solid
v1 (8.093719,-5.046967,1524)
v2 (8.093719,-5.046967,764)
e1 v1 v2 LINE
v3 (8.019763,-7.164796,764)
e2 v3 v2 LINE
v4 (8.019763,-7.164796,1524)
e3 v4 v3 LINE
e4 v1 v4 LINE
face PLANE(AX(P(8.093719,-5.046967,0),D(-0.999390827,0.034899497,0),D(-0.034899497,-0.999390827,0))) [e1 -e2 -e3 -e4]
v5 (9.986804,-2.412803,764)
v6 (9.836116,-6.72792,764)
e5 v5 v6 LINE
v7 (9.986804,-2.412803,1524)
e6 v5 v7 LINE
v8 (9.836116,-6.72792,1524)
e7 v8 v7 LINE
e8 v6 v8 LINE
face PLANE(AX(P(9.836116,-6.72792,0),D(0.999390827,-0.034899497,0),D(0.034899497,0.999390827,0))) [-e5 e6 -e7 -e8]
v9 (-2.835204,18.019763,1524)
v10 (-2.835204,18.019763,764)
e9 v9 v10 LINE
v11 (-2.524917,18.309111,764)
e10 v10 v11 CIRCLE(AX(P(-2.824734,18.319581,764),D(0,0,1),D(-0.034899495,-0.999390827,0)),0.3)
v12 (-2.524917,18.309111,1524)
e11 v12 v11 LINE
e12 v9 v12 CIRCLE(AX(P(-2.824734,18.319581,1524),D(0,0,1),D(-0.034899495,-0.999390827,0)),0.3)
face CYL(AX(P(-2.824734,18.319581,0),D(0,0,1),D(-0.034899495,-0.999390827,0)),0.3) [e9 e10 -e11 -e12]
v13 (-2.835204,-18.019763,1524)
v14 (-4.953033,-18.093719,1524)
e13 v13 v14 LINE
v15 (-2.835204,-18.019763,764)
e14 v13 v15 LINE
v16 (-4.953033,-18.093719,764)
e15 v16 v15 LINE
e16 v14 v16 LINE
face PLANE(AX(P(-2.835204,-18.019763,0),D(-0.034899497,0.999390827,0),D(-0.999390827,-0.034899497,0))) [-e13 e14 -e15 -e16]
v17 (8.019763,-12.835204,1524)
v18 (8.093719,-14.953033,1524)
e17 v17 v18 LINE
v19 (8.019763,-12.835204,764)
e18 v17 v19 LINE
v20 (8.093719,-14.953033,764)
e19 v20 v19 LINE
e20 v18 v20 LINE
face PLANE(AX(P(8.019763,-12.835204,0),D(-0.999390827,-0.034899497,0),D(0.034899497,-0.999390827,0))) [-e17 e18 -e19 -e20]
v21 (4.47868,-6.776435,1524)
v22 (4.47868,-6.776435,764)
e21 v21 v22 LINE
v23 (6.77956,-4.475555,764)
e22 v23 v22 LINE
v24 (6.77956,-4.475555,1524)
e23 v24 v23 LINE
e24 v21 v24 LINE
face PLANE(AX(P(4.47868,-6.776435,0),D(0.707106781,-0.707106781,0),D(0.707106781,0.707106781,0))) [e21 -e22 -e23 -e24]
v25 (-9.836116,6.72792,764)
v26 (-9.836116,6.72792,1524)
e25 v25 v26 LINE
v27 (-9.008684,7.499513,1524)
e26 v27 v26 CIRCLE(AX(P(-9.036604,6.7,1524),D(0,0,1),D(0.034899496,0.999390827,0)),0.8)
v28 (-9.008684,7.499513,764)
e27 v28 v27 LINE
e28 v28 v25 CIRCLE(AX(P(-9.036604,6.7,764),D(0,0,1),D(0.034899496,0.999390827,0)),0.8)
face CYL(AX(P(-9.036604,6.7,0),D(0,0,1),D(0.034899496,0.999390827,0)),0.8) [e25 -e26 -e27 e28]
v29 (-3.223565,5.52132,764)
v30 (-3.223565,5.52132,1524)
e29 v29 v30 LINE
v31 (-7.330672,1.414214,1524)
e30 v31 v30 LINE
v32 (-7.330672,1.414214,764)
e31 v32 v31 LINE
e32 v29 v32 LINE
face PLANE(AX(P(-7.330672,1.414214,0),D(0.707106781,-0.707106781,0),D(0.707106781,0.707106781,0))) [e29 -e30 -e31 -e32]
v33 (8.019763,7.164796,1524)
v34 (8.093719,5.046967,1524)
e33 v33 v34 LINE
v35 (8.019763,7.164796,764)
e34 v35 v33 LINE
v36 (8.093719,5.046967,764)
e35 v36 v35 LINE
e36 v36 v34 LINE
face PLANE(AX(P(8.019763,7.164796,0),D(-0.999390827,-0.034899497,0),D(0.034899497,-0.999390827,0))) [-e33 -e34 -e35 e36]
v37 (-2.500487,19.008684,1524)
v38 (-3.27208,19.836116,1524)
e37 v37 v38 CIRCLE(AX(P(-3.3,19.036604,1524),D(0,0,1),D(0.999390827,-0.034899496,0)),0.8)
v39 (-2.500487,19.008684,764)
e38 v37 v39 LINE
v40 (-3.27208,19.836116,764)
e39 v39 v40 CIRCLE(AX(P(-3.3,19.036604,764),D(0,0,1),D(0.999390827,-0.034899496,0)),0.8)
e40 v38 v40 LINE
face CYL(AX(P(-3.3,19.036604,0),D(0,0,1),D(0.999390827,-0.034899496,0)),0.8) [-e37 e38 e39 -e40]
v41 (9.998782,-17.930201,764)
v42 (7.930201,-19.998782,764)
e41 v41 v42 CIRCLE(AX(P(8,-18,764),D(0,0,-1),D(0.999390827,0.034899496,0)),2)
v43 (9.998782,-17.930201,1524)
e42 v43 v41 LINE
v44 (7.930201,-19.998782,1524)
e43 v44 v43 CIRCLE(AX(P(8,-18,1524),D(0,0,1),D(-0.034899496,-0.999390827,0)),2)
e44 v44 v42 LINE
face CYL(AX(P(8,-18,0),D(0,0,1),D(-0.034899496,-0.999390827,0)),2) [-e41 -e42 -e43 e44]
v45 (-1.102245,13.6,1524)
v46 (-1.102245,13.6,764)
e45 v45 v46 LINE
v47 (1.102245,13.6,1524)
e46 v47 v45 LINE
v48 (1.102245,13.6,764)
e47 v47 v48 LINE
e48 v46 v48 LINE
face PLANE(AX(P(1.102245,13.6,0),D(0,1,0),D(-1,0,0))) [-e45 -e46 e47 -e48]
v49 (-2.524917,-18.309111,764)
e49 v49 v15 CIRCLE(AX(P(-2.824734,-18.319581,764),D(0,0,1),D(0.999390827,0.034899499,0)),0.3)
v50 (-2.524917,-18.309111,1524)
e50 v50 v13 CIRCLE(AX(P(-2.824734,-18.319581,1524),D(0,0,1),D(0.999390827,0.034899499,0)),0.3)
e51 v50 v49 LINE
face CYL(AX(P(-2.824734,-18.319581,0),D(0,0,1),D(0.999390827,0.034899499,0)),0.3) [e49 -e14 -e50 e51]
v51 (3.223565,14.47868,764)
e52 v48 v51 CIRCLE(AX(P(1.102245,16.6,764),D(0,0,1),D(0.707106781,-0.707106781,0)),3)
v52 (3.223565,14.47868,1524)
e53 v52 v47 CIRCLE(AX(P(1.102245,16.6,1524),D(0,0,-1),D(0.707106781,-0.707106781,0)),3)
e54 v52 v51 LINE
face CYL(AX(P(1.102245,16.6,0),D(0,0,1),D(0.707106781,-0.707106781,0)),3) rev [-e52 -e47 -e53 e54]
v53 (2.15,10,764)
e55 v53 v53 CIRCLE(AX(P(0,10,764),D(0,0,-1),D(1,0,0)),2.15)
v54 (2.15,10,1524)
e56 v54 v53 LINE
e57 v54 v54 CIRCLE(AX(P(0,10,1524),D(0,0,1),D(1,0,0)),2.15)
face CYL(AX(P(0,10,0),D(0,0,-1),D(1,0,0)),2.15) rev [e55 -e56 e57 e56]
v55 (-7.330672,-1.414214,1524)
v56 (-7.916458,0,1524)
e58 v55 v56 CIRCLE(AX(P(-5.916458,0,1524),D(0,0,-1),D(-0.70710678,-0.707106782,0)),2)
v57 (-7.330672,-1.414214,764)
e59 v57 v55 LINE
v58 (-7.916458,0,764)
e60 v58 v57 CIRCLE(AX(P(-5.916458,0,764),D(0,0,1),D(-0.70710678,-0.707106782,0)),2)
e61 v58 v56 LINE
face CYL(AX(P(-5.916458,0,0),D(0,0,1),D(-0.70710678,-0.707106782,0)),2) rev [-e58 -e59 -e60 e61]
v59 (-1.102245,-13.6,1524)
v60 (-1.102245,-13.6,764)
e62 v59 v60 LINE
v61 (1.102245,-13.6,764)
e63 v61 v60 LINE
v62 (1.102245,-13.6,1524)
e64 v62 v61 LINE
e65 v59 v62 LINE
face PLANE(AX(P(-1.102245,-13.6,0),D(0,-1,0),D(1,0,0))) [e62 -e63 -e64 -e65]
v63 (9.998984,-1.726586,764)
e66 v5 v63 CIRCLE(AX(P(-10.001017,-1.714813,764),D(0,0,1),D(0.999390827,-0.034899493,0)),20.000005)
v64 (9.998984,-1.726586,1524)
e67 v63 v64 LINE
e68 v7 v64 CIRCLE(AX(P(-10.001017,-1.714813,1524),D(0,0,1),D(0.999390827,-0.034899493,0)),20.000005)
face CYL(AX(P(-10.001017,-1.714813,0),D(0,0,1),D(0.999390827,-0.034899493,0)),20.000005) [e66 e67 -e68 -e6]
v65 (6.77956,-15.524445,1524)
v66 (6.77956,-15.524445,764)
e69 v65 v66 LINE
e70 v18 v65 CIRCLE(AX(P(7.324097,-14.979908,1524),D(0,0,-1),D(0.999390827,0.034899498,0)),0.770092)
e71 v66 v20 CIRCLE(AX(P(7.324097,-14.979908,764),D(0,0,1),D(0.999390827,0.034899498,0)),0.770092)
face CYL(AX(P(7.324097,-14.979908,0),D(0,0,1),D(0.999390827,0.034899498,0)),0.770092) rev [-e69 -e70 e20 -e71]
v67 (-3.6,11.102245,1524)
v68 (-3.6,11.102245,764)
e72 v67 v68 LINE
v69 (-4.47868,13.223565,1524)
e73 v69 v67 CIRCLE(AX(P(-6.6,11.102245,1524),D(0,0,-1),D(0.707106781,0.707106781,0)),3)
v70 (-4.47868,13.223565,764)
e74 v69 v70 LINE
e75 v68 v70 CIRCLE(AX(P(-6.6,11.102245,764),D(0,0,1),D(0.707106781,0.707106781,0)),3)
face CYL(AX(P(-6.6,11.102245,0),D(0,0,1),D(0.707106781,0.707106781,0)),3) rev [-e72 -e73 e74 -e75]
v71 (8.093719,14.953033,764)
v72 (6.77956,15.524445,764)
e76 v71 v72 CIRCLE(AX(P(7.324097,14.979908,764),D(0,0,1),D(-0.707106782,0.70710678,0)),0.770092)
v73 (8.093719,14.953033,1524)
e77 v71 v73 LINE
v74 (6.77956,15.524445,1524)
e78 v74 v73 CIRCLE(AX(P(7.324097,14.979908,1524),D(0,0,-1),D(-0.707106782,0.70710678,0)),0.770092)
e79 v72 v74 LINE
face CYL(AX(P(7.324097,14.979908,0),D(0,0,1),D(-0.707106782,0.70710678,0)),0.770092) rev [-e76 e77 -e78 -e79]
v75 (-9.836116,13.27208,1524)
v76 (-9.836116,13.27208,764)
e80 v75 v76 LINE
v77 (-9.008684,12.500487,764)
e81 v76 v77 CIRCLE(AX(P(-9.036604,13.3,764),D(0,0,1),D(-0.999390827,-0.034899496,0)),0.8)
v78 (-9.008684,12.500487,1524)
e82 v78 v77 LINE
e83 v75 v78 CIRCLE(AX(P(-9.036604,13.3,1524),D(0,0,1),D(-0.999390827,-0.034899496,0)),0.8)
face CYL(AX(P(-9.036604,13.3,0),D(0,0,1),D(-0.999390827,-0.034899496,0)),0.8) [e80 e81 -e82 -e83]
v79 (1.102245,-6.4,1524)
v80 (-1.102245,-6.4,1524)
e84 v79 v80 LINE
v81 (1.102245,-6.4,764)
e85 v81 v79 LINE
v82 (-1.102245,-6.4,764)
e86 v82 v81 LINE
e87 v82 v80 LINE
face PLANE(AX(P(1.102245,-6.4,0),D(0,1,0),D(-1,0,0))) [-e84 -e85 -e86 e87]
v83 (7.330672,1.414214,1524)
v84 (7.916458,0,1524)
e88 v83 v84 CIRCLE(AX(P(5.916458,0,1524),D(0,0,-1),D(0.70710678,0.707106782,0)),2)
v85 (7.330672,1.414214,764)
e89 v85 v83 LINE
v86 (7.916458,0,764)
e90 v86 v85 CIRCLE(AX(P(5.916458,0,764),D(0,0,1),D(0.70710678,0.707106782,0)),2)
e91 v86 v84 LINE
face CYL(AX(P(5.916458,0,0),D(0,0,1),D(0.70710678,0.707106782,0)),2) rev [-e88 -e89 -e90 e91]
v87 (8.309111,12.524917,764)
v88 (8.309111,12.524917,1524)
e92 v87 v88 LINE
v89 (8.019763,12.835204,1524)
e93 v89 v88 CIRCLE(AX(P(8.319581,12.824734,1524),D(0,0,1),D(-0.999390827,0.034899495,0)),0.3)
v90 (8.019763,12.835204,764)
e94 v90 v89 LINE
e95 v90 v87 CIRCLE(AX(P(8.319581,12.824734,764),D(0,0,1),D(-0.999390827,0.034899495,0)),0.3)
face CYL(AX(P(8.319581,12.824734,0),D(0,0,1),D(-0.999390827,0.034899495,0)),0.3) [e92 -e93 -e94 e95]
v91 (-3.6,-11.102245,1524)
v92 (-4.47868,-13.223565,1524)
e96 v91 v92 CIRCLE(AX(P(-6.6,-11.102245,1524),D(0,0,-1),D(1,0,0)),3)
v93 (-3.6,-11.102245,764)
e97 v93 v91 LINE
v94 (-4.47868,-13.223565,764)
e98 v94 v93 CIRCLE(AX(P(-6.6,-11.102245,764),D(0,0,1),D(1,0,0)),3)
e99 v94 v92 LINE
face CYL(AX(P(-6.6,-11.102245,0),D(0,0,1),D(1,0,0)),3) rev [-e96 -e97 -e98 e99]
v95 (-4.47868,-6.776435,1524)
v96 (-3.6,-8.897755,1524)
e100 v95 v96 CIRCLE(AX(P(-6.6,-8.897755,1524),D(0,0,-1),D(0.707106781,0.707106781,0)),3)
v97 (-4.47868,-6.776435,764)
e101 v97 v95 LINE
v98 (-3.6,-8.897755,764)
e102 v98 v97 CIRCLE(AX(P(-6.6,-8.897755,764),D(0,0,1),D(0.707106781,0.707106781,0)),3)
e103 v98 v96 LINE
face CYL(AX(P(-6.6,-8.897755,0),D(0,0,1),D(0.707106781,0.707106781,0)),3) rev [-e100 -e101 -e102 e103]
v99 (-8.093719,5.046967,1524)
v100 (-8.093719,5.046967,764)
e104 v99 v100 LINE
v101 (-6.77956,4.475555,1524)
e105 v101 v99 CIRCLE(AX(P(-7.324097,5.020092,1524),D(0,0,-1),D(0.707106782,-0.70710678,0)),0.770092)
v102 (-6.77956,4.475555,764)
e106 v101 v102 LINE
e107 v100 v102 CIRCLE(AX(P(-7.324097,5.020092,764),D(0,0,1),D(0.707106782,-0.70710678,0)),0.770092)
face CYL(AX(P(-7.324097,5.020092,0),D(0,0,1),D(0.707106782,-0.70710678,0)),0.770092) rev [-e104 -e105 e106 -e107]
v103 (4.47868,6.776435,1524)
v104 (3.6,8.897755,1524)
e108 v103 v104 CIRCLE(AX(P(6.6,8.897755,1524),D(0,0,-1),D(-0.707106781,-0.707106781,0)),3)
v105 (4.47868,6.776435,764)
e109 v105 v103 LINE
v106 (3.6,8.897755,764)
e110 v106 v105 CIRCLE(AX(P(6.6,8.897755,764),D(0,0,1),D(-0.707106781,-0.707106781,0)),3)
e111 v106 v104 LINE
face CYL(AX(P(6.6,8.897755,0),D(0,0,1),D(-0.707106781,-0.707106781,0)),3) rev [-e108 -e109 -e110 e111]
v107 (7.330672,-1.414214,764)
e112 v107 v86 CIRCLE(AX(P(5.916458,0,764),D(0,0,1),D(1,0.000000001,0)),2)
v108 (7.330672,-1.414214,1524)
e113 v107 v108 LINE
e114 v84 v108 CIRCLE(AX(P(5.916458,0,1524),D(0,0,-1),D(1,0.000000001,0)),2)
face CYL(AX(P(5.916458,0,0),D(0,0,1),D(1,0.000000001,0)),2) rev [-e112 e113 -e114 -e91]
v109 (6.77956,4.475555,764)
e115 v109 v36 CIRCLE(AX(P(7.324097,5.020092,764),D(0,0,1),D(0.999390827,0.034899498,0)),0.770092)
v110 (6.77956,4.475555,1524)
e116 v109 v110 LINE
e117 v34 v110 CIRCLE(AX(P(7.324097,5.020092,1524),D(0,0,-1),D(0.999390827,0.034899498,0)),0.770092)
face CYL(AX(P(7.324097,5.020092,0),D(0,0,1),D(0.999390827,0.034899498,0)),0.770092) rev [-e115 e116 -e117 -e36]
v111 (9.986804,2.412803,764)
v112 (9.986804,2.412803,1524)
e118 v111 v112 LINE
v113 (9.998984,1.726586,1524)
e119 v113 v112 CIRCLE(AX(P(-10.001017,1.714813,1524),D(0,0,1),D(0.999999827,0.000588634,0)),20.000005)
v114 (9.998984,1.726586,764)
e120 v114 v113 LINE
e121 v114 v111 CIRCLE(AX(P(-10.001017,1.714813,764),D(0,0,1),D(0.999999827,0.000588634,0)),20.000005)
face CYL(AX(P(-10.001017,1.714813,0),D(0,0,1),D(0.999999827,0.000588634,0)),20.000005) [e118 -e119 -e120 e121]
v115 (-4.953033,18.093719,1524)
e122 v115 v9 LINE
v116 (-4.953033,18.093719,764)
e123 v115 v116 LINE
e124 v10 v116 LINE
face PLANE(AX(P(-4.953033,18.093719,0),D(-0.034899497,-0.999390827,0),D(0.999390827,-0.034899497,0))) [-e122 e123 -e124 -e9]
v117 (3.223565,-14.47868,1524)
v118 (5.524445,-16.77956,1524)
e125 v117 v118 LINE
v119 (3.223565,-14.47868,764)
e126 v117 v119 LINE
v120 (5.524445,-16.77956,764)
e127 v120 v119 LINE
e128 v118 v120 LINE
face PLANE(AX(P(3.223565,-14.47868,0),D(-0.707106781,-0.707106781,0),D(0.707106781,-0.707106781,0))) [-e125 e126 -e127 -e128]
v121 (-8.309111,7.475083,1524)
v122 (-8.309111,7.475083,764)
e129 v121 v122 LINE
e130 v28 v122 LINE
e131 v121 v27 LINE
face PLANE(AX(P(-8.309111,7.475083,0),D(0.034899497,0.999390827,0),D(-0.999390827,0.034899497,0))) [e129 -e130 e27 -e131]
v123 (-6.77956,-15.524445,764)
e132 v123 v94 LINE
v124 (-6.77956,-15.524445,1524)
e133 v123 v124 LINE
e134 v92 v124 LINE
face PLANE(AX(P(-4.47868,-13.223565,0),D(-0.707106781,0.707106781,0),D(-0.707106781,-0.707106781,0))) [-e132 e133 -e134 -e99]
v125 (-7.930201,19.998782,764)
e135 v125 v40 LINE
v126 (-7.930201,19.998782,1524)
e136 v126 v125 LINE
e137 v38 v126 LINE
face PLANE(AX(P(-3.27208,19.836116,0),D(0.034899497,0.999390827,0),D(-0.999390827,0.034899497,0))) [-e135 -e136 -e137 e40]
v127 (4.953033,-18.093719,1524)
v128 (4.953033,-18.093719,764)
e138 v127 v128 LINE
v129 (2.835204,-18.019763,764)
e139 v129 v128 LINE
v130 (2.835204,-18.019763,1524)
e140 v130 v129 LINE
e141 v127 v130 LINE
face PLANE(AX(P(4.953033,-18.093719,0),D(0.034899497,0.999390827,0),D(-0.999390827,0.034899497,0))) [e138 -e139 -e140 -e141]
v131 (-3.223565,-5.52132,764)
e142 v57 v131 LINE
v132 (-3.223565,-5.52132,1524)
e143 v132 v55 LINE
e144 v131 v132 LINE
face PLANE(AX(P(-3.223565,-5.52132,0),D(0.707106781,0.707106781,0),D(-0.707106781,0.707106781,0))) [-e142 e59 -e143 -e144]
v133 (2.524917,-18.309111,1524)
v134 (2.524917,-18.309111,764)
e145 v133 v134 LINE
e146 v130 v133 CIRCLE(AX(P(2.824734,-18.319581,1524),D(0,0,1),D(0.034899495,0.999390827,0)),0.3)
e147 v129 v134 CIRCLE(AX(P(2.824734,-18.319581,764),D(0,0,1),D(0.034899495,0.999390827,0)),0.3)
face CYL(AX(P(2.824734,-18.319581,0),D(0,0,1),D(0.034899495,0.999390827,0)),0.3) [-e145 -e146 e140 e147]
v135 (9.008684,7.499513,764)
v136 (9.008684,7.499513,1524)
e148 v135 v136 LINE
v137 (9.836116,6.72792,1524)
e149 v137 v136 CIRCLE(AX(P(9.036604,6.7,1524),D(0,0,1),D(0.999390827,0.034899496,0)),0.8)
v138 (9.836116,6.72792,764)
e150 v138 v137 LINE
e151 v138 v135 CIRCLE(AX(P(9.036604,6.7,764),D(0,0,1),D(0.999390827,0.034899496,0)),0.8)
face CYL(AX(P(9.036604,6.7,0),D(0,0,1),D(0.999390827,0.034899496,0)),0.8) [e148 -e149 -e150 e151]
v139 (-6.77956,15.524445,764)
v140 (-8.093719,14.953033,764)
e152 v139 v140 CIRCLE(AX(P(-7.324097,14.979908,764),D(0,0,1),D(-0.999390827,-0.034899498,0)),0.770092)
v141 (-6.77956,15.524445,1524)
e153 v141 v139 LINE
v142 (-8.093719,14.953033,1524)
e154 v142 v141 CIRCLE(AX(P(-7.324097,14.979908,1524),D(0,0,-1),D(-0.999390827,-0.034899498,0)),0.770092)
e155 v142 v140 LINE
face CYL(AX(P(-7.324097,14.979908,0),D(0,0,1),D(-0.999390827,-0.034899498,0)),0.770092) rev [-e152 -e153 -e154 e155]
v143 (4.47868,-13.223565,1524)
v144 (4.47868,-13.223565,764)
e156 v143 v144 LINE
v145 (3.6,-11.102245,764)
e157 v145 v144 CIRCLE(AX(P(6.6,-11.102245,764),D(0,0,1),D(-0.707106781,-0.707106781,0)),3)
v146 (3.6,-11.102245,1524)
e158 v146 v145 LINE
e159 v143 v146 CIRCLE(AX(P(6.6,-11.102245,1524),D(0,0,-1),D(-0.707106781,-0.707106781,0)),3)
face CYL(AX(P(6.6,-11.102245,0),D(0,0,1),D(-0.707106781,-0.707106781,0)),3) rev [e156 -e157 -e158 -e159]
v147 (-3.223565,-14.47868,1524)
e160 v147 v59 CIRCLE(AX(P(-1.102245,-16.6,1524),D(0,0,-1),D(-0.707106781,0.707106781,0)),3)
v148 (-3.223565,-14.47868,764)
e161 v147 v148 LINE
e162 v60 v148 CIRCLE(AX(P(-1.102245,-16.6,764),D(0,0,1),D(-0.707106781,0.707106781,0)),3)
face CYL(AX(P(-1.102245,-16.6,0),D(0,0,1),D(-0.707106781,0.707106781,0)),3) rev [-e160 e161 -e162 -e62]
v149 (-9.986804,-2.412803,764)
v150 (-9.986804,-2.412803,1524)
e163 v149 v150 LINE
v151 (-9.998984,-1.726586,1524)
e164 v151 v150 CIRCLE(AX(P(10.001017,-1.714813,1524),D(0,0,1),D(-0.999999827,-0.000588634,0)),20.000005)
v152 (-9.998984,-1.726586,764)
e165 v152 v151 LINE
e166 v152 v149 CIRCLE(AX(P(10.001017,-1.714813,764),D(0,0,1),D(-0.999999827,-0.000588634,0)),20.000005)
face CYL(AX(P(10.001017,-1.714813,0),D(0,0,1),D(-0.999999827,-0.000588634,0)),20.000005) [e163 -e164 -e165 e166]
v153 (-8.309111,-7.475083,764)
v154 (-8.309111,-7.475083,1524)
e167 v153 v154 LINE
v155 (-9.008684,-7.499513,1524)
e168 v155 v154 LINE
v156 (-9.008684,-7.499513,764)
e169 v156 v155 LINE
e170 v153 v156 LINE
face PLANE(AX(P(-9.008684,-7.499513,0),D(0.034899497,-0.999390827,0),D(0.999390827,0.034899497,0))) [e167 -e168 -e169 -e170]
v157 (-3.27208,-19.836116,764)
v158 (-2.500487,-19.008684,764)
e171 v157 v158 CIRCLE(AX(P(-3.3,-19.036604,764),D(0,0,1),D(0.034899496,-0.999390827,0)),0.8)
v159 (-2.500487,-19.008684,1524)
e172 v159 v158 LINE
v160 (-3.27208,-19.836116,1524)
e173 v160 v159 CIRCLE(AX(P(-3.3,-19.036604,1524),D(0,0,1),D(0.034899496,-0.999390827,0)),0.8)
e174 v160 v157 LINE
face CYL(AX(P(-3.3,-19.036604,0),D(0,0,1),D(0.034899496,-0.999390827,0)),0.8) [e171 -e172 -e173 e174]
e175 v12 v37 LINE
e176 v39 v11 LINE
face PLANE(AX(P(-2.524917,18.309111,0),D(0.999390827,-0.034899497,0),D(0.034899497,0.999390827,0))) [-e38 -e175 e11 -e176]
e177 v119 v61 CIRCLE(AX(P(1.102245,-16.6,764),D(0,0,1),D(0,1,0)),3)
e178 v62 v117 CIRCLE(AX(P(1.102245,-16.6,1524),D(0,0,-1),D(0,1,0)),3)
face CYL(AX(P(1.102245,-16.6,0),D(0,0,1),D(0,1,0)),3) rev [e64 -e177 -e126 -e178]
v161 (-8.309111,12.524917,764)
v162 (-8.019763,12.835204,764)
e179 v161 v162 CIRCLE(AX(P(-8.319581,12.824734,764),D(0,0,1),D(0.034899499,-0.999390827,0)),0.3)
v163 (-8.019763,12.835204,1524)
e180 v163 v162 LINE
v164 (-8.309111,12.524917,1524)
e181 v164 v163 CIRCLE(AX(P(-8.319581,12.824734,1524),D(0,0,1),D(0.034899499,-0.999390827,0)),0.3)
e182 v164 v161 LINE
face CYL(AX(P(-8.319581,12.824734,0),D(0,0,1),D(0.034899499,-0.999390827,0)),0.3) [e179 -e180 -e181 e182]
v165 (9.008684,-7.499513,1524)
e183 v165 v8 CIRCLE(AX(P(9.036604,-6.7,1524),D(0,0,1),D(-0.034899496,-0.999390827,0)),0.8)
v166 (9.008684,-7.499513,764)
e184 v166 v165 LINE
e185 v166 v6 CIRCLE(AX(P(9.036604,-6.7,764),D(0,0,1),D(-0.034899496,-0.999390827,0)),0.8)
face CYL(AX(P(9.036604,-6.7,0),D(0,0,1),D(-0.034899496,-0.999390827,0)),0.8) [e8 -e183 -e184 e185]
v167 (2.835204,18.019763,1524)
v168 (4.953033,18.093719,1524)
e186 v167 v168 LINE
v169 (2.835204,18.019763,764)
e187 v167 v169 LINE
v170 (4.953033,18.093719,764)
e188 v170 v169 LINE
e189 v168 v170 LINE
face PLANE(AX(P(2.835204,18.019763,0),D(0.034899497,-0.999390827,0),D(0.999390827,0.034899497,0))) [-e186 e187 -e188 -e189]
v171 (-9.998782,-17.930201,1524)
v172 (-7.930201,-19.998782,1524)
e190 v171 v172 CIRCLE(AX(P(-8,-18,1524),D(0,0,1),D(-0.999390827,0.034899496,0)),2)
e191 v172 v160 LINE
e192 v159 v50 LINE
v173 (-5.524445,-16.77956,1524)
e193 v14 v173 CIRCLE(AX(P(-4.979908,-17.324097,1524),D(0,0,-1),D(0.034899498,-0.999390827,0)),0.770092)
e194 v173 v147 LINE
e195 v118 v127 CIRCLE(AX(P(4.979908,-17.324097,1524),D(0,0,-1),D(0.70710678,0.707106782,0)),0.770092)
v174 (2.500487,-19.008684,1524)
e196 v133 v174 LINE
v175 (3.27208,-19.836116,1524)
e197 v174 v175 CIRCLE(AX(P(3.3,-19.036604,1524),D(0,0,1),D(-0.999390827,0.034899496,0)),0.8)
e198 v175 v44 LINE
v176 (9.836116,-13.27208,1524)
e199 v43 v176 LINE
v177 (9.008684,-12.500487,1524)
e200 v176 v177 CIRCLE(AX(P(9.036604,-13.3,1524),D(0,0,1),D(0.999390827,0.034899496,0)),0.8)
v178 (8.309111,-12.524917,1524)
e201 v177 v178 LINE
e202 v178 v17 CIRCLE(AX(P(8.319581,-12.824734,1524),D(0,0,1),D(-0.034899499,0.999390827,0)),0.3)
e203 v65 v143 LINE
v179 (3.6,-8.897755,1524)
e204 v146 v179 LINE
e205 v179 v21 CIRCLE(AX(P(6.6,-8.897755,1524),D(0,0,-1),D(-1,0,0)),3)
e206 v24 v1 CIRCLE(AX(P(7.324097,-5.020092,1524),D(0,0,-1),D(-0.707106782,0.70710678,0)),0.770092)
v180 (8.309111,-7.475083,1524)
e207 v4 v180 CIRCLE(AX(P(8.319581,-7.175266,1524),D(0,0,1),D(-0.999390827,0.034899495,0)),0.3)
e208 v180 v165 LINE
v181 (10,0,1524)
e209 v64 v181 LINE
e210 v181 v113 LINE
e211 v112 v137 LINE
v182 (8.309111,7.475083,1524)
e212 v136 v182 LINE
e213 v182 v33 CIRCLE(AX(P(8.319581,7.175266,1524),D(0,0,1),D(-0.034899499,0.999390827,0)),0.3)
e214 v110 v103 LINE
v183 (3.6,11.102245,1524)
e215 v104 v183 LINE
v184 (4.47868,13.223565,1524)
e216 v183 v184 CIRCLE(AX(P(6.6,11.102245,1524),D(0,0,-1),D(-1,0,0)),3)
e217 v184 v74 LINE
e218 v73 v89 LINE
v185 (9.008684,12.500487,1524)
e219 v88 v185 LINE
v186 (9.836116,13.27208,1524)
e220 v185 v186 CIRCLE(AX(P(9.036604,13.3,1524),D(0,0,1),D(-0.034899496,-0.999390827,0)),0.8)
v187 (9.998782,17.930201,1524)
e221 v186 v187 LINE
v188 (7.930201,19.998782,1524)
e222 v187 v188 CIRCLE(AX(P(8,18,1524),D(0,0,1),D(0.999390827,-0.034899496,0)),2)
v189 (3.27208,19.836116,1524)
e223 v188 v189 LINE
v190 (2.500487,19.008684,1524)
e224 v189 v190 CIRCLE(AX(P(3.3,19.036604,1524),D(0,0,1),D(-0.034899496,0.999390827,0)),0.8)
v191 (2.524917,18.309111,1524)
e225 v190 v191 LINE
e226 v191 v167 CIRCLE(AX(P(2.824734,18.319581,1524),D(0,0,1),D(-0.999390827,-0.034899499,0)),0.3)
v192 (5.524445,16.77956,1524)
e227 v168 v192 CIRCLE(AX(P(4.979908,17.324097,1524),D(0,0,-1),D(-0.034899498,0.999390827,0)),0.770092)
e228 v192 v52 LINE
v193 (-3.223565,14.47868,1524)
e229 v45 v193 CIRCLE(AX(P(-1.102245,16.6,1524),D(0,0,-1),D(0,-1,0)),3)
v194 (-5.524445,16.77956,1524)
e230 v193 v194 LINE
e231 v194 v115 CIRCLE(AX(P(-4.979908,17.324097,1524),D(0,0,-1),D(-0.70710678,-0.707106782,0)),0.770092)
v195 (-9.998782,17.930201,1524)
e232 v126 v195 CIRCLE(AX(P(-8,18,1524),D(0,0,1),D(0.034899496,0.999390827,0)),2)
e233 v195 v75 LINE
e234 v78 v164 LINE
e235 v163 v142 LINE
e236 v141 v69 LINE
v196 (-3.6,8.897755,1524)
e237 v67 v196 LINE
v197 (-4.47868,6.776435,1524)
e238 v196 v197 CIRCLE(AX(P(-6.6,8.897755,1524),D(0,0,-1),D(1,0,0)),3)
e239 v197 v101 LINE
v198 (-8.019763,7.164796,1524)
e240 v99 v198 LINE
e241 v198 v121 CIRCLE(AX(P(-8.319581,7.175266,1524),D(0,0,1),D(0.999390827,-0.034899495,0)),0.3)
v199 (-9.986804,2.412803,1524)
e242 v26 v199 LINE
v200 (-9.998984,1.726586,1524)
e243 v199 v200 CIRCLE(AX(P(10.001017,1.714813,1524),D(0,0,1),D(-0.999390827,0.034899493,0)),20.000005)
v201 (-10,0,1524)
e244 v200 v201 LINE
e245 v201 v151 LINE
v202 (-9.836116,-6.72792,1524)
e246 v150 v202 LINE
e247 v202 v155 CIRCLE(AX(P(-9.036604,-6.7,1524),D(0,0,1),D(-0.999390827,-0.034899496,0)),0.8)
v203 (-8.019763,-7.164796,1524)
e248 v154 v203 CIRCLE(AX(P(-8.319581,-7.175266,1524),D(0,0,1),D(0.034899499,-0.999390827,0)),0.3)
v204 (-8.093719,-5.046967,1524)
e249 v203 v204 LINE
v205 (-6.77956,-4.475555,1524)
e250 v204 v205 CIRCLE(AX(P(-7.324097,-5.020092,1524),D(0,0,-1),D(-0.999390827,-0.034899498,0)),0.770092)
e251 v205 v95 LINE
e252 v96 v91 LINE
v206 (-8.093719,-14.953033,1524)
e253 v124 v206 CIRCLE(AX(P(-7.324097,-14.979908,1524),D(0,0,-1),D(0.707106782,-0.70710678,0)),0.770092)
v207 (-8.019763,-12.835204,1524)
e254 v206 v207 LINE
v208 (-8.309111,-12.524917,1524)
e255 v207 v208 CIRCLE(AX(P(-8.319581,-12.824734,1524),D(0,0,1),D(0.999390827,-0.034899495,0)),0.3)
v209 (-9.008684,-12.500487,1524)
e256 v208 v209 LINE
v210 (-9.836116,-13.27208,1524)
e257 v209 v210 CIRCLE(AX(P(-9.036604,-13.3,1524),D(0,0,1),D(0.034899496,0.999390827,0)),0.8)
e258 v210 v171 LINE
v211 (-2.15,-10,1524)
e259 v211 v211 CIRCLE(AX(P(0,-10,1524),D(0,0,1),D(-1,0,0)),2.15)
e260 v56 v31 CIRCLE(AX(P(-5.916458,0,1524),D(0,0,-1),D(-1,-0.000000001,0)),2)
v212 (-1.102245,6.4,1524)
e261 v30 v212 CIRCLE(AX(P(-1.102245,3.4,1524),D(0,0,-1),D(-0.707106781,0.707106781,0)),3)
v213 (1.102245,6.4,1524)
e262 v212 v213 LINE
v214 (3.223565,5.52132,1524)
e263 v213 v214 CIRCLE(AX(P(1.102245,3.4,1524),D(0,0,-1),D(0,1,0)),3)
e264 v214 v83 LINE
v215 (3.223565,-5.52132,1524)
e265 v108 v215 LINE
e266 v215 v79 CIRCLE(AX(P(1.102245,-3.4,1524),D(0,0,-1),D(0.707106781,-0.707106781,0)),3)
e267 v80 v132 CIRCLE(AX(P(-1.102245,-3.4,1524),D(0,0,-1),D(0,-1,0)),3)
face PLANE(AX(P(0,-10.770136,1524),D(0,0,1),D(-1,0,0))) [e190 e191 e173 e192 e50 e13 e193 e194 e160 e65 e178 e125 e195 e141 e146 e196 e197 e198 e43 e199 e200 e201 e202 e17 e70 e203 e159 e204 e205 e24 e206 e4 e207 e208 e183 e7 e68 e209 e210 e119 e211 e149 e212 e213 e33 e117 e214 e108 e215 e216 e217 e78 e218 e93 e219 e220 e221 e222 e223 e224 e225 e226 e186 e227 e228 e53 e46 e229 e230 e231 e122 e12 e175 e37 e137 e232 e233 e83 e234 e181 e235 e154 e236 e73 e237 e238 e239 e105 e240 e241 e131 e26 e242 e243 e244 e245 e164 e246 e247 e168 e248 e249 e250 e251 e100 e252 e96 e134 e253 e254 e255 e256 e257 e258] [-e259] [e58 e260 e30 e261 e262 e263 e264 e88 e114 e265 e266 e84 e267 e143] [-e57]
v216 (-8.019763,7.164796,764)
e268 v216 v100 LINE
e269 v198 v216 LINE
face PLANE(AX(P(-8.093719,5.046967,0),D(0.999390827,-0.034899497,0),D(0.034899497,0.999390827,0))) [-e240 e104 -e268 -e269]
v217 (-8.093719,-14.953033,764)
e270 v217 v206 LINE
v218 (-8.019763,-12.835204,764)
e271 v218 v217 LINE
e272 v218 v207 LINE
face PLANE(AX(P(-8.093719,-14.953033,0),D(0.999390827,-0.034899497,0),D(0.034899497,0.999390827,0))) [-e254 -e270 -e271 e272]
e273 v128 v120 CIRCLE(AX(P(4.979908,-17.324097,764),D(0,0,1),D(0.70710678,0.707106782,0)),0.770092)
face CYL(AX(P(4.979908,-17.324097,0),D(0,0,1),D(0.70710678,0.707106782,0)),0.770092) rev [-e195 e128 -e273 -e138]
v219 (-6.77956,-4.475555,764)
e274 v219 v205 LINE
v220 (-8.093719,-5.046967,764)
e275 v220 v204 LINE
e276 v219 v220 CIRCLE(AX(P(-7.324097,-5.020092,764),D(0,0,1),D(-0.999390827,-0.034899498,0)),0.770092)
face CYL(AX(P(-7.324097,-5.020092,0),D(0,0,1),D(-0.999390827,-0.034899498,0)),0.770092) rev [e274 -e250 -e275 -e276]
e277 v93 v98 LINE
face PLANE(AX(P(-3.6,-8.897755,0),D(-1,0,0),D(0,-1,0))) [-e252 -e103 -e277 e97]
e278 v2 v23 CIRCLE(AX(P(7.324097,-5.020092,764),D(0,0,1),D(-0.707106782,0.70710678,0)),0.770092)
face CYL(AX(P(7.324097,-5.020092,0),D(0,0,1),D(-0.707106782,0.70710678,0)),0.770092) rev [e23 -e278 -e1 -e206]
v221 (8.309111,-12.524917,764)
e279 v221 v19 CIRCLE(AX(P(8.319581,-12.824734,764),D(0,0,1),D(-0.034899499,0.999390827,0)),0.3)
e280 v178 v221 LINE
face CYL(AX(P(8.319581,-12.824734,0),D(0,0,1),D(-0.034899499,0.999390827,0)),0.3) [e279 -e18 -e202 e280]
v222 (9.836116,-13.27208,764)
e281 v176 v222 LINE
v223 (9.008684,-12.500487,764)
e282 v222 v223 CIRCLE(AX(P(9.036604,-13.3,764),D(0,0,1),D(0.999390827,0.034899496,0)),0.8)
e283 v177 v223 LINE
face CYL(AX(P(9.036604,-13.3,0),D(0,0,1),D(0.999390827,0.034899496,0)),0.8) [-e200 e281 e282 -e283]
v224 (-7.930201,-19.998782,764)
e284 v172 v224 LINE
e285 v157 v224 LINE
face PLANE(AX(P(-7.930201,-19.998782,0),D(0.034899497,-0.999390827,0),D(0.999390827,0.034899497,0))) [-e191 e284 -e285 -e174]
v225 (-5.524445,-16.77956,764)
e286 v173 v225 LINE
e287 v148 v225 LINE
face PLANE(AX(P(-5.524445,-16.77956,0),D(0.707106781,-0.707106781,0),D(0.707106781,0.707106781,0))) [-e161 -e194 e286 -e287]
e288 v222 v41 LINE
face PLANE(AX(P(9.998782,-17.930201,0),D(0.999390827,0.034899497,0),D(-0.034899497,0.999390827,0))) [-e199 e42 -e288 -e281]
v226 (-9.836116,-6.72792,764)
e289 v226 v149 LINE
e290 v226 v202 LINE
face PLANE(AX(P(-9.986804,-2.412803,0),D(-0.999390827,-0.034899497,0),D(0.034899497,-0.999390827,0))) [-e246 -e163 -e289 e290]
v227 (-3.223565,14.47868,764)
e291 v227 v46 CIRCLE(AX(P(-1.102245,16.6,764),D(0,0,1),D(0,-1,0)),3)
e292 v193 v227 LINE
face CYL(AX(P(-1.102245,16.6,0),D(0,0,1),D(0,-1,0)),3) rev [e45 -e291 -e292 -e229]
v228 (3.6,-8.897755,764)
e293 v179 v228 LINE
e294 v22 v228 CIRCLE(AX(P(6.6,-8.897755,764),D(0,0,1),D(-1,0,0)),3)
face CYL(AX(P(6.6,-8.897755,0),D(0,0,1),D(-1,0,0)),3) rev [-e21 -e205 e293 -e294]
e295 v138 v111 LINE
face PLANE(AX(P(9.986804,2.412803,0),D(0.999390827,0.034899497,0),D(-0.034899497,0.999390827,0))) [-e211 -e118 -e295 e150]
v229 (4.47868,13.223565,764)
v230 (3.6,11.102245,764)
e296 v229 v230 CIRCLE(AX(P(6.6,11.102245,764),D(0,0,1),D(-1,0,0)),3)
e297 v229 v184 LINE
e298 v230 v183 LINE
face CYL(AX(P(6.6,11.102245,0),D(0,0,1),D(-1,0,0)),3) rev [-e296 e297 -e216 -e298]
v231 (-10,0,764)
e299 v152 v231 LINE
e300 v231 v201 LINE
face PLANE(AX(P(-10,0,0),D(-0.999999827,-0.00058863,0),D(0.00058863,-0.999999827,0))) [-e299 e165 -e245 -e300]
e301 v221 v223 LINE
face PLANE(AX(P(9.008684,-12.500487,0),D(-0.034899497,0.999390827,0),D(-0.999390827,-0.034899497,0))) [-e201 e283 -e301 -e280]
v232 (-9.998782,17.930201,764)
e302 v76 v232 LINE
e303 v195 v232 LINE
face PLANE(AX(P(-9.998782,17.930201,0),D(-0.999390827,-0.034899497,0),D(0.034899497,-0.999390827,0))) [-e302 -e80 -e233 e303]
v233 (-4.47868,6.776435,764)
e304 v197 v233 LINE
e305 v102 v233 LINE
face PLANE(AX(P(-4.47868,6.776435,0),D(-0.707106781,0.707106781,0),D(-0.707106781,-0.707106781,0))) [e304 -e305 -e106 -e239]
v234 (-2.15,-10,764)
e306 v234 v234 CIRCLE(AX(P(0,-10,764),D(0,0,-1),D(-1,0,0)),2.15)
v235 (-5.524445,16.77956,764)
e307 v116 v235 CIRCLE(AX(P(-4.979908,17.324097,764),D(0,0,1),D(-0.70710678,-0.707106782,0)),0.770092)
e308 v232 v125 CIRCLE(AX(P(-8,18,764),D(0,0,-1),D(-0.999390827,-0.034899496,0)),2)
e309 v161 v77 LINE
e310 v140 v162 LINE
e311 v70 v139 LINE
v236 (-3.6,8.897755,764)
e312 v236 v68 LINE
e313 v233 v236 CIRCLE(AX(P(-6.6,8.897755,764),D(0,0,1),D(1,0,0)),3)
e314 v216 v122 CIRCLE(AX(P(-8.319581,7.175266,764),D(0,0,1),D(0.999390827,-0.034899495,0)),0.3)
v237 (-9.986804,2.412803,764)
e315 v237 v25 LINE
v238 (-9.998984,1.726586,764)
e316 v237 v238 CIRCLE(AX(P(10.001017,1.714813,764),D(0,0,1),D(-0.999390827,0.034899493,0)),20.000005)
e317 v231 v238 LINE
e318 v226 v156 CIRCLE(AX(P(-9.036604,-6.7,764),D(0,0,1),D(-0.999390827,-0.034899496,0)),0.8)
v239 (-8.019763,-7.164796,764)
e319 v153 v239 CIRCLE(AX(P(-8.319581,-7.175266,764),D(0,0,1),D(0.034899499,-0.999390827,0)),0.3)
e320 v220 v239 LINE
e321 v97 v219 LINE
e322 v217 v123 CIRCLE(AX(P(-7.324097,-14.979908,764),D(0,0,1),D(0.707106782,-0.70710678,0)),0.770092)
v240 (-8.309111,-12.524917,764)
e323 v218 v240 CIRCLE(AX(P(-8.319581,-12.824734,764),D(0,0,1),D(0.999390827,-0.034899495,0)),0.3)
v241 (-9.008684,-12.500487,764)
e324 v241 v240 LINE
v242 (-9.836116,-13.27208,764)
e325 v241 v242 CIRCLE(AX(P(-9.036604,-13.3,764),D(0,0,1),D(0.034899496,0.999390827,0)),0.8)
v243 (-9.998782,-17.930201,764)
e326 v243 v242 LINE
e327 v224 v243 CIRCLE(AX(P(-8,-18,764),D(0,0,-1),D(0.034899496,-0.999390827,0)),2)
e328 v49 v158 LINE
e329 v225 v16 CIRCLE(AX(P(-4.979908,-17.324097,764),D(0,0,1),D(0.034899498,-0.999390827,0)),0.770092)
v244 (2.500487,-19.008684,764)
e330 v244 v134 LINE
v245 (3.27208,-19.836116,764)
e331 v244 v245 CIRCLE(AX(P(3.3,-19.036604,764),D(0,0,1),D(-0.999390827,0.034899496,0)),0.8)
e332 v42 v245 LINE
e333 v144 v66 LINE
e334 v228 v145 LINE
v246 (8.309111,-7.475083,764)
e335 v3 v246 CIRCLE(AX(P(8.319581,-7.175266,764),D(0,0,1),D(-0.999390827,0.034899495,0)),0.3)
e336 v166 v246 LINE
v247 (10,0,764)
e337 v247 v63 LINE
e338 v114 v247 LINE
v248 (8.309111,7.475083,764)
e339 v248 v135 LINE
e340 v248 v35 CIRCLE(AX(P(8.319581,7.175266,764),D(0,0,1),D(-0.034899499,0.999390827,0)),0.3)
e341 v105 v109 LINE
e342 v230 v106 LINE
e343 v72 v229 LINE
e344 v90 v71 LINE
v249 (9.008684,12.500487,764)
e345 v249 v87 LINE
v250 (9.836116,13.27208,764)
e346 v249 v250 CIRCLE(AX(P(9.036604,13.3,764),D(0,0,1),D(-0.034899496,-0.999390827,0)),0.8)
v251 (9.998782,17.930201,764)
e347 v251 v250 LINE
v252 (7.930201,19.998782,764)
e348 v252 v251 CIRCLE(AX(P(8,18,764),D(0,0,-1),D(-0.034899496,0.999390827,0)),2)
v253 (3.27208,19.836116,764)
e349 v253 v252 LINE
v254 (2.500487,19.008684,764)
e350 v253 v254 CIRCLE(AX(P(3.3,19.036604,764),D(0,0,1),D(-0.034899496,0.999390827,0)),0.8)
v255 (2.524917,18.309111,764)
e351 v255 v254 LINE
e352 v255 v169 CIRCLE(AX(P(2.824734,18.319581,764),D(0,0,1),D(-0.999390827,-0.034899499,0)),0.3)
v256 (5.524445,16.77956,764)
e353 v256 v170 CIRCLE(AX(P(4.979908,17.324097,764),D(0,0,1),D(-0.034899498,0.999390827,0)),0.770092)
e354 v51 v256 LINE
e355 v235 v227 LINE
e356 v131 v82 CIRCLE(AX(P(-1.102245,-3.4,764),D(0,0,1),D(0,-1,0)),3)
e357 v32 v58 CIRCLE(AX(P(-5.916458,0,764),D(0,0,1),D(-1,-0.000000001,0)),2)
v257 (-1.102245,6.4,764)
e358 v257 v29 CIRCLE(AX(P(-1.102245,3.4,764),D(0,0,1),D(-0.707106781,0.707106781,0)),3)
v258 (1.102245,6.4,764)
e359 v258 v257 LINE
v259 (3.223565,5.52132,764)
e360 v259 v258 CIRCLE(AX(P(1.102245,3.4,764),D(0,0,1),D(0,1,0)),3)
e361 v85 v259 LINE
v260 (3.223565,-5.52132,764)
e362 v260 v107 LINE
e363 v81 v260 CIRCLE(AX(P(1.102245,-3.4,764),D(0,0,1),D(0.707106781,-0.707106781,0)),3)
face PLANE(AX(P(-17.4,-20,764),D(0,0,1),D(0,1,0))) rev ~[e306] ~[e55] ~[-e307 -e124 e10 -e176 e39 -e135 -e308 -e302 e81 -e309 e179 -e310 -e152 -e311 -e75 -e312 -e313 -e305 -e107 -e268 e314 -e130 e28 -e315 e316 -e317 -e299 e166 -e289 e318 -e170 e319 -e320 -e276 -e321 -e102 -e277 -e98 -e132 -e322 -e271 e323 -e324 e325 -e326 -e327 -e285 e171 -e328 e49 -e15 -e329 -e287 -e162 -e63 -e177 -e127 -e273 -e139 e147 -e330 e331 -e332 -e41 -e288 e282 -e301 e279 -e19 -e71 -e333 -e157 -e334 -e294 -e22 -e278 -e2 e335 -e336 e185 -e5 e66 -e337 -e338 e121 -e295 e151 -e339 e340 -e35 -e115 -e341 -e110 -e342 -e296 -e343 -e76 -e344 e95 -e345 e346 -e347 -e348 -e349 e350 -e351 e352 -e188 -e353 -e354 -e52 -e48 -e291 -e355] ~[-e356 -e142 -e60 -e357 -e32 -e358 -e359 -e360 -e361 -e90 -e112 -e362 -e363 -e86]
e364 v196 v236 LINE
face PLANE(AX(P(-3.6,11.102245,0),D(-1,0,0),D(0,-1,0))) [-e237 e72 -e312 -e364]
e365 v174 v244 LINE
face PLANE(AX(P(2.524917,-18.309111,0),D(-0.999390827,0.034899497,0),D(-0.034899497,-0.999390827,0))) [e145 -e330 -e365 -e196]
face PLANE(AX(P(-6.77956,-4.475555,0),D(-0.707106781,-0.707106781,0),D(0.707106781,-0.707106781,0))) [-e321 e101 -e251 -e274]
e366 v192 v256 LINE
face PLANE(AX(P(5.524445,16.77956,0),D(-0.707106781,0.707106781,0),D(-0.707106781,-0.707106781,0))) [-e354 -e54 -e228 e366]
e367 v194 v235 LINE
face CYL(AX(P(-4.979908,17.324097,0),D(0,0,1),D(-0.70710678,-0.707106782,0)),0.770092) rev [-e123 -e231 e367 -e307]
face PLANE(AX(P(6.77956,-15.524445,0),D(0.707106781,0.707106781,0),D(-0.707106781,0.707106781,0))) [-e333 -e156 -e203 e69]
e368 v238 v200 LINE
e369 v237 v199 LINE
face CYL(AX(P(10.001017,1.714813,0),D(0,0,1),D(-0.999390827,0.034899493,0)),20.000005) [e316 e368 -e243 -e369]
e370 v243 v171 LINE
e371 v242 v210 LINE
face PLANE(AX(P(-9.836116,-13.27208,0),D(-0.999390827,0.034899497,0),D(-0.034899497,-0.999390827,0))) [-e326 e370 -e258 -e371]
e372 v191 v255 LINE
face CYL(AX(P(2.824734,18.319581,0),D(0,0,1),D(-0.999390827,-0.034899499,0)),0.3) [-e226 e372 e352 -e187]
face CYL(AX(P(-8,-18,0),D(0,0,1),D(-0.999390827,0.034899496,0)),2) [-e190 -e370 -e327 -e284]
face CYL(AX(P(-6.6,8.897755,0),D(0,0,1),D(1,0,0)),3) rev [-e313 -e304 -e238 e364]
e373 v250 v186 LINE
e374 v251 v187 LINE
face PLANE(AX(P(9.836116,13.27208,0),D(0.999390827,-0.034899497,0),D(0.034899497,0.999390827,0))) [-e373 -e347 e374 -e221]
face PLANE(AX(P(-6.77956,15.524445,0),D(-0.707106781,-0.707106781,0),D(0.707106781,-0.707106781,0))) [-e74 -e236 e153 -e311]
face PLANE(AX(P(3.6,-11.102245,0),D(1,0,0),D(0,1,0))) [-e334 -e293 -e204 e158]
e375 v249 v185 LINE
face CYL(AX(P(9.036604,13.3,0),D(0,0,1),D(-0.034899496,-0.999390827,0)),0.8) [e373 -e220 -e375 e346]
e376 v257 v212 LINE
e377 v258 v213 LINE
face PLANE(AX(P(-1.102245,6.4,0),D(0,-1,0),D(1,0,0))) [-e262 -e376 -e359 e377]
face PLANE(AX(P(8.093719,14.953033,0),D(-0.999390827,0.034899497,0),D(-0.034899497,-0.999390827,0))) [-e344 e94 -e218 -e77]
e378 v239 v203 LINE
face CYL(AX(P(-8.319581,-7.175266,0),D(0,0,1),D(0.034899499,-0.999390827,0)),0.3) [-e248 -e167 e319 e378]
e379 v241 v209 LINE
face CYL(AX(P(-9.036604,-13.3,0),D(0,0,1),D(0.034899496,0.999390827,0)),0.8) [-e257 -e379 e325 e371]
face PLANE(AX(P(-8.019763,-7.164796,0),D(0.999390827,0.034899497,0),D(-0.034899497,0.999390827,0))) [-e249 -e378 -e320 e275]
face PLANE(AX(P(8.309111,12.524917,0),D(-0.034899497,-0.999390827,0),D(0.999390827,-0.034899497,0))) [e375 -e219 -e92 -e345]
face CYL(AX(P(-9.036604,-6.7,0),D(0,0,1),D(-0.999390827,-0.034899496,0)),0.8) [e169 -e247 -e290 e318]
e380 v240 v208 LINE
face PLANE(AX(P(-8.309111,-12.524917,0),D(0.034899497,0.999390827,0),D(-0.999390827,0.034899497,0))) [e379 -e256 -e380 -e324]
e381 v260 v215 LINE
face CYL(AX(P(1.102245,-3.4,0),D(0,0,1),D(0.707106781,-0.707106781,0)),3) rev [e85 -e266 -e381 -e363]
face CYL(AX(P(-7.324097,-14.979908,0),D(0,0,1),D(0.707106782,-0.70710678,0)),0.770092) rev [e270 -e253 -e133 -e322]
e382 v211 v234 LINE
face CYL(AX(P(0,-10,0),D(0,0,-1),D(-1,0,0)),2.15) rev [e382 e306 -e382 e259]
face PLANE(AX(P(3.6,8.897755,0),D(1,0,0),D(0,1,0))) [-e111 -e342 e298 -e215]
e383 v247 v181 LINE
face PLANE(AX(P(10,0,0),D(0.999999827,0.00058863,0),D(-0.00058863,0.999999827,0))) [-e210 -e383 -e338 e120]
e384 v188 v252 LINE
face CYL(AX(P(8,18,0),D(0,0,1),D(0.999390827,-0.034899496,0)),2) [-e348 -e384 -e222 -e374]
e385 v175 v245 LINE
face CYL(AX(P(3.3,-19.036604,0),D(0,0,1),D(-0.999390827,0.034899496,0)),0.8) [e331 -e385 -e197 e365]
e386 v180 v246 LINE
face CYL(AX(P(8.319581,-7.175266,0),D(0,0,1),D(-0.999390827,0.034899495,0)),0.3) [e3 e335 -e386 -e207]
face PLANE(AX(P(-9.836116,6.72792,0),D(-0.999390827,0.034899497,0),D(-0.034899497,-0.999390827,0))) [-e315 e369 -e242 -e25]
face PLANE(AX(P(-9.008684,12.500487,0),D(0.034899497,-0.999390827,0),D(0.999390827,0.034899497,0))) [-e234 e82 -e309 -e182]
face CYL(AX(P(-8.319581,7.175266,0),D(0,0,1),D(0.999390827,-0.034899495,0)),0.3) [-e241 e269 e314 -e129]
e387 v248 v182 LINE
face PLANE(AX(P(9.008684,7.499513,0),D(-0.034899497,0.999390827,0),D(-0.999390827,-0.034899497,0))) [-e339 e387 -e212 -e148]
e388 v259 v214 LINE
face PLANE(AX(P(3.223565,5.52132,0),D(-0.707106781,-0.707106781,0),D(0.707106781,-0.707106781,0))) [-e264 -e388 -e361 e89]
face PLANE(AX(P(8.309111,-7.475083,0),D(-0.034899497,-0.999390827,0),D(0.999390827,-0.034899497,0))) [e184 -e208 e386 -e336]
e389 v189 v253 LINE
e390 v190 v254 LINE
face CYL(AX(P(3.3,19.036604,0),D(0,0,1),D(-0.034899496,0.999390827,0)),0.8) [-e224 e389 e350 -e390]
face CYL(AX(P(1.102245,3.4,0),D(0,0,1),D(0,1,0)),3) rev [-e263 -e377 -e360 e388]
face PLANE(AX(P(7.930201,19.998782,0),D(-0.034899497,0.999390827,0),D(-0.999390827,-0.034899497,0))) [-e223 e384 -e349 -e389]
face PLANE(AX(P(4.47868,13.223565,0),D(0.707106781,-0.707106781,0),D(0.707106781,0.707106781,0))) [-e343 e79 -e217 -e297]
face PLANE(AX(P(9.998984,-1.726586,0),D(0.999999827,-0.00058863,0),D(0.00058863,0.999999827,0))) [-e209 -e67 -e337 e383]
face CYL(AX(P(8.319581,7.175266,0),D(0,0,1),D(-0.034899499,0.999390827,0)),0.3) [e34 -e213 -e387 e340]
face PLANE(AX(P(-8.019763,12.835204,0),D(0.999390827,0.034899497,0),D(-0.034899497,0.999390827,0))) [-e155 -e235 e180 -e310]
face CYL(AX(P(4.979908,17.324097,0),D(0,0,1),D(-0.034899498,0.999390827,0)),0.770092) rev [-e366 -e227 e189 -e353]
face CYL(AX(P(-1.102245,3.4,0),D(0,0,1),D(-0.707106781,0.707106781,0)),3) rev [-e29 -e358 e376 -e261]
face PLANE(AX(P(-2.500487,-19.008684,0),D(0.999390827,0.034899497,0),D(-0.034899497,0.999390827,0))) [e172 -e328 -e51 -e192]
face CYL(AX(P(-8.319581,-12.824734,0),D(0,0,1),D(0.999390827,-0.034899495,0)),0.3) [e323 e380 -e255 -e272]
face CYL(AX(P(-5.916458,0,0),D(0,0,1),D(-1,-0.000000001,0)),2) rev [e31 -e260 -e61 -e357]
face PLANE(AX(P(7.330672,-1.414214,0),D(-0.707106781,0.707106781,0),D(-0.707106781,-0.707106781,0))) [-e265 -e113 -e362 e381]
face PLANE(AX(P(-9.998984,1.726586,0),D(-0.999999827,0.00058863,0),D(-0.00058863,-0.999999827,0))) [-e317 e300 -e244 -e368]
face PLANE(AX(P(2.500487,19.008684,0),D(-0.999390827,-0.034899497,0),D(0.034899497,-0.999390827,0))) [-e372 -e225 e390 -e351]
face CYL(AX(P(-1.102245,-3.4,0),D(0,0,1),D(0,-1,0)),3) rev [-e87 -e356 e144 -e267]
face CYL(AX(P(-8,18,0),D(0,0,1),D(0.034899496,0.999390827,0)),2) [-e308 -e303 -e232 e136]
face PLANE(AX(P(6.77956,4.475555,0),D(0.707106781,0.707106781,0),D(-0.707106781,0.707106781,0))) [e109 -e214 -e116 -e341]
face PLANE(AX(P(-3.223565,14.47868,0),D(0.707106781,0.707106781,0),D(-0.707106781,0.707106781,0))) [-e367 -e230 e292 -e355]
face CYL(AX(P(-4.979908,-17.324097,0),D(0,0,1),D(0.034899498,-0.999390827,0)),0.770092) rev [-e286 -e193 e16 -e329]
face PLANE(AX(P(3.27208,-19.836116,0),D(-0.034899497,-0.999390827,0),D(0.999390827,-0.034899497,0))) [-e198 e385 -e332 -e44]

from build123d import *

# Parameters (mm, degrees)
SKETCH3_R               = 2.15
BOSS_EXTRUDE1_DEPTH     = 1524
CIRPATTERN1_COUNT       = 2
CUT_EXTRUDE1_DEPTH      = 10
CUT_EXTRUDE1_DEPTH_BACK = 21
SKETCH4_OUTSIDE_W       = 3659.666
SKETCH4_OUTSIDE_H       = 651.666
SKETCH4_OUTSIDE_W_2     = 760
SKETCH4_OUTSIDE_H_2     = 40


with BuildPart() as part:
    # Sketch3 → Boss-Extrude1 (new, symmetric)
    with BuildSketch(Plane.XY):
        with BuildLine():
            Line((-8.30911066, 7.475083014), (-9.008684239, 7.499512662))
            ThreePointArc((-9.008684239, 7.499512662), (-9.582202525, 7.285082961), (-9.836116498, 6.727919597))
            Line((-9.836116498, 6.727919597), (-9.986803685, 2.412803152))
            ThreePointArc((-9.986803685, 2.412803152), (-9.995837451, 2.069746735), (-9.99898368, 1.726585818))
            Line((-9.99898368, 1.726585818), (-10, 0))
            Line((-10, 0), (-7.916458339, 0))
            ThreePointArc((-7.916458339, 0), (-7.764217404, 0.765366865), (-7.330671901, 1.414213562))
            Line((-7.330671901, 1.414213562), (-3.22356512, 5.521320344))
            ThreePointArc((-3.22356512, 5.521320344), (-2.250295073, 6.171638598), (-1.102244776, 6.4))
            Line((-1.102244776, 6.4), (1.102244776, 6.4))
            ThreePointArc((1.102244776, 6.4), (2.250295073, 6.171638598), (3.22356512, 5.521320344))
            Line((3.22356512, 5.521320344), (7.330671901, 1.414213562))
            ThreePointArc((7.330671901, 1.414213562), (7.764217404, 0.765366865), (7.916458339, 0))
            Line((7.916458339, 0), (10, 0))
            Line((10, 0), (9.99898368, 1.726585818))
            ThreePointArc((9.99898368, 1.726585818), (9.995837451, 2.069746735), (9.986803685, 2.412803152))
            Line((9.986803685, 2.412803152), (9.836116498, 6.727919597))
            ThreePointArc((9.836116498, 6.727919597), (9.582202525, 7.285082961), (9.008684239, 7.499512662))
            Line((9.008684239, 7.499512662), (8.30911066, 7.475083014))
            ThreePointArc((8.30911066, 7.475083014), (8.100174399, 7.379865274), (8.019763261, 7.164795917))
            Line((8.019763261, 7.164795917), (8.093719461, 5.046967452))
            ThreePointArc((8.093719461, 5.046967452), (7.631170264, 4.313871343), (6.779559917, 4.47555462))
            Line((6.779559917, 4.47555462), (4.478679656, 6.77643488))
            ThreePointArc((4.478679656, 6.77643488), (3.828361402, 7.749704927), (3.6, 8.897755224))
            Line((3.6, 8.897755224), (3.6, 11.102244776))
            ThreePointArc((3.6, 11.102244776), (3.828361402, 12.250295073), (4.478679656, 13.22356512))
            Line((4.478679656, 13.22356512), (6.779559917, 15.52444538))
            ThreePointArc((6.779559917, 15.52444538), (7.631170264, 15.686128657), (8.093719461, 14.953032548))
            Line((8.093719461, 14.953032548), (8.019763261, 12.835204083))
            ThreePointArc((8.019763261, 12.835204083), (8.100174399, 12.620134726), (8.30911066, 12.524916986))
            Line((8.30911066, 12.524916986), (9.008684239, 12.500487338))
            ThreePointArc((9.008684239, 12.500487338), (9.582202525, 12.714917039), (9.836116498, 13.272080403))
            Line((9.836116498, 13.272080403), (9.998781654, 17.930201007))
            ThreePointArc((9.998781654, 17.930201007), (9.414213562, 19.414213562), (7.930201007, 19.998781654))
            Line((7.930201007, 19.998781654), (3.272080403, 19.836116498))
            ThreePointArc((3.272080403, 19.836116498), (2.714917039, 19.582202525), (2.500487338, 19.008684239))
            Line((2.500487338, 19.008684239), (2.524916986, 18.30911066))
            ThreePointArc((2.524916986, 18.30911066), (2.620134726, 18.100174399), (2.835204083, 18.019763261))
            Line((2.835204083, 18.019763261), (4.953032548, 18.093719461))
            ThreePointArc((4.953032548, 18.093719461), (5.686128657, 17.631170264), (5.52444538, 16.779559917))
            Line((5.52444538, 16.779559917), (3.22356512, 14.478679656))
            ThreePointArc((3.22356512, 14.478679656), (2.250295073, 13.828361402), (1.102244776, 13.6))
            Line((1.102244776, 13.6), (-1.102244776, 13.6))
            ThreePointArc((-1.102244776, 13.6), (-2.250295073, 13.828361402), (-3.22356512, 14.478679656))
            Line((-3.22356512, 14.478679656), (-5.52444538, 16.779559917))
            ThreePointArc((-5.52444538, 16.779559917), (-5.686128657, 17.631170264), (-4.953032548, 18.093719461))
            Line((-4.953032548, 18.093719461), (-2.835204083, 18.019763261))
            ThreePointArc((-2.835204083, 18.019763261), (-2.620134726, 18.100174399), (-2.524916986, 18.30911066))
            Line((-2.524916986, 18.30911066), (-2.500487338, 19.008684239))
            ThreePointArc((-2.500487338, 19.008684239), (-2.714917039, 19.582202525), (-3.272080403, 19.836116498))
            Line((-3.272080403, 19.836116498), (-7.930201007, 19.998781654))
            ThreePointArc((-7.930201007, 19.998781654), (-9.414213562, 19.414213562), (-9.998781654, 17.930201007))
            Line((-9.998781654, 17.930201007), (-9.836116498, 13.272080403))
            ThreePointArc((-9.836116498, 13.272080403), (-9.582202525, 12.714917039), (-9.008684239, 12.500487338))
            Line((-9.008684239, 12.500487338), (-8.30911066, 12.524916986))
            ThreePointArc((-8.30911066, 12.524916986), (-8.100174399, 12.620134726), (-8.019763261, 12.835204083))
            Line((-8.019763261, 12.835204083), (-8.093719461, 14.953032548))
            ThreePointArc((-8.093719461, 14.953032548), (-7.631170264, 15.686128657), (-6.779559917, 15.52444538))
            Line((-6.779559917, 15.52444538), (-4.478679656, 13.22356512))
            ThreePointArc((-4.478679656, 13.22356512), (-3.828361402, 12.250295073), (-3.6, 11.102244776))
            Line((-3.6, 11.102244776), (-3.6, 8.897755224))
            ThreePointArc((-3.6, 8.897755224), (-3.828361402, 7.749704927), (-4.478679656, 6.77643488))
            Line((-4.478679656, 6.77643488), (-6.779559917, 4.47555462))
            ThreePointArc((-6.779559917, 4.47555462), (-7.631170264, 4.313871343), (-8.093719461, 5.046967452))
            Line((-8.093719461, 5.046967452), (-8.019763261, 7.164795917))
            ThreePointArc((-8.019763261, 7.164795917), (-8.100174399, 7.379865274), (-8.30911066, 7.475083014))
        make_face()
        with Locations((0, 10)):
            Circle(SKETCH3_R, mode=Mode.SUBTRACT)
    boss_extrude1 = extrude(amount=BOSS_EXTRUDE1_DEPTH, both=True)

    # CirPattern1: Boss-Extrude1 ×2 about axis
    cirpattern1_axis = Axis((0, 0, 0), (0, 0, 1))
    for i in range(1, CIRPATTERN1_COUNT):
        add(boss_extrude1.rotate(cirpattern1_axis, i * 360 / CIRPATTERN1_COUNT))

    # Sketch4 outside → Cut-Extrude1 (cut, two sides: drawn at the far end of the back side and taken through both)
    with BuildSketch(Plane(origin=(3.6, 0, 0), x_dir=(0, 0, -1), z_dir=(1, 0, 0)).offset(-CUT_EXTRUDE1_DEPTH_BACK)):
        Rectangle(SKETCH4_OUTSIDE_W, SKETCH4_OUTSIDE_H)
        with Locations((-1144, 0)):
            Rectangle(SKETCH4_OUTSIDE_W_2, SKETCH4_OUTSIDE_H_2, mode=Mode.SUBTRACT)
    extrude(amount=CUT_EXTRUDE1_DEPTH + CUT_EXTRUDE1_DEPTH_BACK, mode=Mode.SUBTRACT)


solid = part.part
